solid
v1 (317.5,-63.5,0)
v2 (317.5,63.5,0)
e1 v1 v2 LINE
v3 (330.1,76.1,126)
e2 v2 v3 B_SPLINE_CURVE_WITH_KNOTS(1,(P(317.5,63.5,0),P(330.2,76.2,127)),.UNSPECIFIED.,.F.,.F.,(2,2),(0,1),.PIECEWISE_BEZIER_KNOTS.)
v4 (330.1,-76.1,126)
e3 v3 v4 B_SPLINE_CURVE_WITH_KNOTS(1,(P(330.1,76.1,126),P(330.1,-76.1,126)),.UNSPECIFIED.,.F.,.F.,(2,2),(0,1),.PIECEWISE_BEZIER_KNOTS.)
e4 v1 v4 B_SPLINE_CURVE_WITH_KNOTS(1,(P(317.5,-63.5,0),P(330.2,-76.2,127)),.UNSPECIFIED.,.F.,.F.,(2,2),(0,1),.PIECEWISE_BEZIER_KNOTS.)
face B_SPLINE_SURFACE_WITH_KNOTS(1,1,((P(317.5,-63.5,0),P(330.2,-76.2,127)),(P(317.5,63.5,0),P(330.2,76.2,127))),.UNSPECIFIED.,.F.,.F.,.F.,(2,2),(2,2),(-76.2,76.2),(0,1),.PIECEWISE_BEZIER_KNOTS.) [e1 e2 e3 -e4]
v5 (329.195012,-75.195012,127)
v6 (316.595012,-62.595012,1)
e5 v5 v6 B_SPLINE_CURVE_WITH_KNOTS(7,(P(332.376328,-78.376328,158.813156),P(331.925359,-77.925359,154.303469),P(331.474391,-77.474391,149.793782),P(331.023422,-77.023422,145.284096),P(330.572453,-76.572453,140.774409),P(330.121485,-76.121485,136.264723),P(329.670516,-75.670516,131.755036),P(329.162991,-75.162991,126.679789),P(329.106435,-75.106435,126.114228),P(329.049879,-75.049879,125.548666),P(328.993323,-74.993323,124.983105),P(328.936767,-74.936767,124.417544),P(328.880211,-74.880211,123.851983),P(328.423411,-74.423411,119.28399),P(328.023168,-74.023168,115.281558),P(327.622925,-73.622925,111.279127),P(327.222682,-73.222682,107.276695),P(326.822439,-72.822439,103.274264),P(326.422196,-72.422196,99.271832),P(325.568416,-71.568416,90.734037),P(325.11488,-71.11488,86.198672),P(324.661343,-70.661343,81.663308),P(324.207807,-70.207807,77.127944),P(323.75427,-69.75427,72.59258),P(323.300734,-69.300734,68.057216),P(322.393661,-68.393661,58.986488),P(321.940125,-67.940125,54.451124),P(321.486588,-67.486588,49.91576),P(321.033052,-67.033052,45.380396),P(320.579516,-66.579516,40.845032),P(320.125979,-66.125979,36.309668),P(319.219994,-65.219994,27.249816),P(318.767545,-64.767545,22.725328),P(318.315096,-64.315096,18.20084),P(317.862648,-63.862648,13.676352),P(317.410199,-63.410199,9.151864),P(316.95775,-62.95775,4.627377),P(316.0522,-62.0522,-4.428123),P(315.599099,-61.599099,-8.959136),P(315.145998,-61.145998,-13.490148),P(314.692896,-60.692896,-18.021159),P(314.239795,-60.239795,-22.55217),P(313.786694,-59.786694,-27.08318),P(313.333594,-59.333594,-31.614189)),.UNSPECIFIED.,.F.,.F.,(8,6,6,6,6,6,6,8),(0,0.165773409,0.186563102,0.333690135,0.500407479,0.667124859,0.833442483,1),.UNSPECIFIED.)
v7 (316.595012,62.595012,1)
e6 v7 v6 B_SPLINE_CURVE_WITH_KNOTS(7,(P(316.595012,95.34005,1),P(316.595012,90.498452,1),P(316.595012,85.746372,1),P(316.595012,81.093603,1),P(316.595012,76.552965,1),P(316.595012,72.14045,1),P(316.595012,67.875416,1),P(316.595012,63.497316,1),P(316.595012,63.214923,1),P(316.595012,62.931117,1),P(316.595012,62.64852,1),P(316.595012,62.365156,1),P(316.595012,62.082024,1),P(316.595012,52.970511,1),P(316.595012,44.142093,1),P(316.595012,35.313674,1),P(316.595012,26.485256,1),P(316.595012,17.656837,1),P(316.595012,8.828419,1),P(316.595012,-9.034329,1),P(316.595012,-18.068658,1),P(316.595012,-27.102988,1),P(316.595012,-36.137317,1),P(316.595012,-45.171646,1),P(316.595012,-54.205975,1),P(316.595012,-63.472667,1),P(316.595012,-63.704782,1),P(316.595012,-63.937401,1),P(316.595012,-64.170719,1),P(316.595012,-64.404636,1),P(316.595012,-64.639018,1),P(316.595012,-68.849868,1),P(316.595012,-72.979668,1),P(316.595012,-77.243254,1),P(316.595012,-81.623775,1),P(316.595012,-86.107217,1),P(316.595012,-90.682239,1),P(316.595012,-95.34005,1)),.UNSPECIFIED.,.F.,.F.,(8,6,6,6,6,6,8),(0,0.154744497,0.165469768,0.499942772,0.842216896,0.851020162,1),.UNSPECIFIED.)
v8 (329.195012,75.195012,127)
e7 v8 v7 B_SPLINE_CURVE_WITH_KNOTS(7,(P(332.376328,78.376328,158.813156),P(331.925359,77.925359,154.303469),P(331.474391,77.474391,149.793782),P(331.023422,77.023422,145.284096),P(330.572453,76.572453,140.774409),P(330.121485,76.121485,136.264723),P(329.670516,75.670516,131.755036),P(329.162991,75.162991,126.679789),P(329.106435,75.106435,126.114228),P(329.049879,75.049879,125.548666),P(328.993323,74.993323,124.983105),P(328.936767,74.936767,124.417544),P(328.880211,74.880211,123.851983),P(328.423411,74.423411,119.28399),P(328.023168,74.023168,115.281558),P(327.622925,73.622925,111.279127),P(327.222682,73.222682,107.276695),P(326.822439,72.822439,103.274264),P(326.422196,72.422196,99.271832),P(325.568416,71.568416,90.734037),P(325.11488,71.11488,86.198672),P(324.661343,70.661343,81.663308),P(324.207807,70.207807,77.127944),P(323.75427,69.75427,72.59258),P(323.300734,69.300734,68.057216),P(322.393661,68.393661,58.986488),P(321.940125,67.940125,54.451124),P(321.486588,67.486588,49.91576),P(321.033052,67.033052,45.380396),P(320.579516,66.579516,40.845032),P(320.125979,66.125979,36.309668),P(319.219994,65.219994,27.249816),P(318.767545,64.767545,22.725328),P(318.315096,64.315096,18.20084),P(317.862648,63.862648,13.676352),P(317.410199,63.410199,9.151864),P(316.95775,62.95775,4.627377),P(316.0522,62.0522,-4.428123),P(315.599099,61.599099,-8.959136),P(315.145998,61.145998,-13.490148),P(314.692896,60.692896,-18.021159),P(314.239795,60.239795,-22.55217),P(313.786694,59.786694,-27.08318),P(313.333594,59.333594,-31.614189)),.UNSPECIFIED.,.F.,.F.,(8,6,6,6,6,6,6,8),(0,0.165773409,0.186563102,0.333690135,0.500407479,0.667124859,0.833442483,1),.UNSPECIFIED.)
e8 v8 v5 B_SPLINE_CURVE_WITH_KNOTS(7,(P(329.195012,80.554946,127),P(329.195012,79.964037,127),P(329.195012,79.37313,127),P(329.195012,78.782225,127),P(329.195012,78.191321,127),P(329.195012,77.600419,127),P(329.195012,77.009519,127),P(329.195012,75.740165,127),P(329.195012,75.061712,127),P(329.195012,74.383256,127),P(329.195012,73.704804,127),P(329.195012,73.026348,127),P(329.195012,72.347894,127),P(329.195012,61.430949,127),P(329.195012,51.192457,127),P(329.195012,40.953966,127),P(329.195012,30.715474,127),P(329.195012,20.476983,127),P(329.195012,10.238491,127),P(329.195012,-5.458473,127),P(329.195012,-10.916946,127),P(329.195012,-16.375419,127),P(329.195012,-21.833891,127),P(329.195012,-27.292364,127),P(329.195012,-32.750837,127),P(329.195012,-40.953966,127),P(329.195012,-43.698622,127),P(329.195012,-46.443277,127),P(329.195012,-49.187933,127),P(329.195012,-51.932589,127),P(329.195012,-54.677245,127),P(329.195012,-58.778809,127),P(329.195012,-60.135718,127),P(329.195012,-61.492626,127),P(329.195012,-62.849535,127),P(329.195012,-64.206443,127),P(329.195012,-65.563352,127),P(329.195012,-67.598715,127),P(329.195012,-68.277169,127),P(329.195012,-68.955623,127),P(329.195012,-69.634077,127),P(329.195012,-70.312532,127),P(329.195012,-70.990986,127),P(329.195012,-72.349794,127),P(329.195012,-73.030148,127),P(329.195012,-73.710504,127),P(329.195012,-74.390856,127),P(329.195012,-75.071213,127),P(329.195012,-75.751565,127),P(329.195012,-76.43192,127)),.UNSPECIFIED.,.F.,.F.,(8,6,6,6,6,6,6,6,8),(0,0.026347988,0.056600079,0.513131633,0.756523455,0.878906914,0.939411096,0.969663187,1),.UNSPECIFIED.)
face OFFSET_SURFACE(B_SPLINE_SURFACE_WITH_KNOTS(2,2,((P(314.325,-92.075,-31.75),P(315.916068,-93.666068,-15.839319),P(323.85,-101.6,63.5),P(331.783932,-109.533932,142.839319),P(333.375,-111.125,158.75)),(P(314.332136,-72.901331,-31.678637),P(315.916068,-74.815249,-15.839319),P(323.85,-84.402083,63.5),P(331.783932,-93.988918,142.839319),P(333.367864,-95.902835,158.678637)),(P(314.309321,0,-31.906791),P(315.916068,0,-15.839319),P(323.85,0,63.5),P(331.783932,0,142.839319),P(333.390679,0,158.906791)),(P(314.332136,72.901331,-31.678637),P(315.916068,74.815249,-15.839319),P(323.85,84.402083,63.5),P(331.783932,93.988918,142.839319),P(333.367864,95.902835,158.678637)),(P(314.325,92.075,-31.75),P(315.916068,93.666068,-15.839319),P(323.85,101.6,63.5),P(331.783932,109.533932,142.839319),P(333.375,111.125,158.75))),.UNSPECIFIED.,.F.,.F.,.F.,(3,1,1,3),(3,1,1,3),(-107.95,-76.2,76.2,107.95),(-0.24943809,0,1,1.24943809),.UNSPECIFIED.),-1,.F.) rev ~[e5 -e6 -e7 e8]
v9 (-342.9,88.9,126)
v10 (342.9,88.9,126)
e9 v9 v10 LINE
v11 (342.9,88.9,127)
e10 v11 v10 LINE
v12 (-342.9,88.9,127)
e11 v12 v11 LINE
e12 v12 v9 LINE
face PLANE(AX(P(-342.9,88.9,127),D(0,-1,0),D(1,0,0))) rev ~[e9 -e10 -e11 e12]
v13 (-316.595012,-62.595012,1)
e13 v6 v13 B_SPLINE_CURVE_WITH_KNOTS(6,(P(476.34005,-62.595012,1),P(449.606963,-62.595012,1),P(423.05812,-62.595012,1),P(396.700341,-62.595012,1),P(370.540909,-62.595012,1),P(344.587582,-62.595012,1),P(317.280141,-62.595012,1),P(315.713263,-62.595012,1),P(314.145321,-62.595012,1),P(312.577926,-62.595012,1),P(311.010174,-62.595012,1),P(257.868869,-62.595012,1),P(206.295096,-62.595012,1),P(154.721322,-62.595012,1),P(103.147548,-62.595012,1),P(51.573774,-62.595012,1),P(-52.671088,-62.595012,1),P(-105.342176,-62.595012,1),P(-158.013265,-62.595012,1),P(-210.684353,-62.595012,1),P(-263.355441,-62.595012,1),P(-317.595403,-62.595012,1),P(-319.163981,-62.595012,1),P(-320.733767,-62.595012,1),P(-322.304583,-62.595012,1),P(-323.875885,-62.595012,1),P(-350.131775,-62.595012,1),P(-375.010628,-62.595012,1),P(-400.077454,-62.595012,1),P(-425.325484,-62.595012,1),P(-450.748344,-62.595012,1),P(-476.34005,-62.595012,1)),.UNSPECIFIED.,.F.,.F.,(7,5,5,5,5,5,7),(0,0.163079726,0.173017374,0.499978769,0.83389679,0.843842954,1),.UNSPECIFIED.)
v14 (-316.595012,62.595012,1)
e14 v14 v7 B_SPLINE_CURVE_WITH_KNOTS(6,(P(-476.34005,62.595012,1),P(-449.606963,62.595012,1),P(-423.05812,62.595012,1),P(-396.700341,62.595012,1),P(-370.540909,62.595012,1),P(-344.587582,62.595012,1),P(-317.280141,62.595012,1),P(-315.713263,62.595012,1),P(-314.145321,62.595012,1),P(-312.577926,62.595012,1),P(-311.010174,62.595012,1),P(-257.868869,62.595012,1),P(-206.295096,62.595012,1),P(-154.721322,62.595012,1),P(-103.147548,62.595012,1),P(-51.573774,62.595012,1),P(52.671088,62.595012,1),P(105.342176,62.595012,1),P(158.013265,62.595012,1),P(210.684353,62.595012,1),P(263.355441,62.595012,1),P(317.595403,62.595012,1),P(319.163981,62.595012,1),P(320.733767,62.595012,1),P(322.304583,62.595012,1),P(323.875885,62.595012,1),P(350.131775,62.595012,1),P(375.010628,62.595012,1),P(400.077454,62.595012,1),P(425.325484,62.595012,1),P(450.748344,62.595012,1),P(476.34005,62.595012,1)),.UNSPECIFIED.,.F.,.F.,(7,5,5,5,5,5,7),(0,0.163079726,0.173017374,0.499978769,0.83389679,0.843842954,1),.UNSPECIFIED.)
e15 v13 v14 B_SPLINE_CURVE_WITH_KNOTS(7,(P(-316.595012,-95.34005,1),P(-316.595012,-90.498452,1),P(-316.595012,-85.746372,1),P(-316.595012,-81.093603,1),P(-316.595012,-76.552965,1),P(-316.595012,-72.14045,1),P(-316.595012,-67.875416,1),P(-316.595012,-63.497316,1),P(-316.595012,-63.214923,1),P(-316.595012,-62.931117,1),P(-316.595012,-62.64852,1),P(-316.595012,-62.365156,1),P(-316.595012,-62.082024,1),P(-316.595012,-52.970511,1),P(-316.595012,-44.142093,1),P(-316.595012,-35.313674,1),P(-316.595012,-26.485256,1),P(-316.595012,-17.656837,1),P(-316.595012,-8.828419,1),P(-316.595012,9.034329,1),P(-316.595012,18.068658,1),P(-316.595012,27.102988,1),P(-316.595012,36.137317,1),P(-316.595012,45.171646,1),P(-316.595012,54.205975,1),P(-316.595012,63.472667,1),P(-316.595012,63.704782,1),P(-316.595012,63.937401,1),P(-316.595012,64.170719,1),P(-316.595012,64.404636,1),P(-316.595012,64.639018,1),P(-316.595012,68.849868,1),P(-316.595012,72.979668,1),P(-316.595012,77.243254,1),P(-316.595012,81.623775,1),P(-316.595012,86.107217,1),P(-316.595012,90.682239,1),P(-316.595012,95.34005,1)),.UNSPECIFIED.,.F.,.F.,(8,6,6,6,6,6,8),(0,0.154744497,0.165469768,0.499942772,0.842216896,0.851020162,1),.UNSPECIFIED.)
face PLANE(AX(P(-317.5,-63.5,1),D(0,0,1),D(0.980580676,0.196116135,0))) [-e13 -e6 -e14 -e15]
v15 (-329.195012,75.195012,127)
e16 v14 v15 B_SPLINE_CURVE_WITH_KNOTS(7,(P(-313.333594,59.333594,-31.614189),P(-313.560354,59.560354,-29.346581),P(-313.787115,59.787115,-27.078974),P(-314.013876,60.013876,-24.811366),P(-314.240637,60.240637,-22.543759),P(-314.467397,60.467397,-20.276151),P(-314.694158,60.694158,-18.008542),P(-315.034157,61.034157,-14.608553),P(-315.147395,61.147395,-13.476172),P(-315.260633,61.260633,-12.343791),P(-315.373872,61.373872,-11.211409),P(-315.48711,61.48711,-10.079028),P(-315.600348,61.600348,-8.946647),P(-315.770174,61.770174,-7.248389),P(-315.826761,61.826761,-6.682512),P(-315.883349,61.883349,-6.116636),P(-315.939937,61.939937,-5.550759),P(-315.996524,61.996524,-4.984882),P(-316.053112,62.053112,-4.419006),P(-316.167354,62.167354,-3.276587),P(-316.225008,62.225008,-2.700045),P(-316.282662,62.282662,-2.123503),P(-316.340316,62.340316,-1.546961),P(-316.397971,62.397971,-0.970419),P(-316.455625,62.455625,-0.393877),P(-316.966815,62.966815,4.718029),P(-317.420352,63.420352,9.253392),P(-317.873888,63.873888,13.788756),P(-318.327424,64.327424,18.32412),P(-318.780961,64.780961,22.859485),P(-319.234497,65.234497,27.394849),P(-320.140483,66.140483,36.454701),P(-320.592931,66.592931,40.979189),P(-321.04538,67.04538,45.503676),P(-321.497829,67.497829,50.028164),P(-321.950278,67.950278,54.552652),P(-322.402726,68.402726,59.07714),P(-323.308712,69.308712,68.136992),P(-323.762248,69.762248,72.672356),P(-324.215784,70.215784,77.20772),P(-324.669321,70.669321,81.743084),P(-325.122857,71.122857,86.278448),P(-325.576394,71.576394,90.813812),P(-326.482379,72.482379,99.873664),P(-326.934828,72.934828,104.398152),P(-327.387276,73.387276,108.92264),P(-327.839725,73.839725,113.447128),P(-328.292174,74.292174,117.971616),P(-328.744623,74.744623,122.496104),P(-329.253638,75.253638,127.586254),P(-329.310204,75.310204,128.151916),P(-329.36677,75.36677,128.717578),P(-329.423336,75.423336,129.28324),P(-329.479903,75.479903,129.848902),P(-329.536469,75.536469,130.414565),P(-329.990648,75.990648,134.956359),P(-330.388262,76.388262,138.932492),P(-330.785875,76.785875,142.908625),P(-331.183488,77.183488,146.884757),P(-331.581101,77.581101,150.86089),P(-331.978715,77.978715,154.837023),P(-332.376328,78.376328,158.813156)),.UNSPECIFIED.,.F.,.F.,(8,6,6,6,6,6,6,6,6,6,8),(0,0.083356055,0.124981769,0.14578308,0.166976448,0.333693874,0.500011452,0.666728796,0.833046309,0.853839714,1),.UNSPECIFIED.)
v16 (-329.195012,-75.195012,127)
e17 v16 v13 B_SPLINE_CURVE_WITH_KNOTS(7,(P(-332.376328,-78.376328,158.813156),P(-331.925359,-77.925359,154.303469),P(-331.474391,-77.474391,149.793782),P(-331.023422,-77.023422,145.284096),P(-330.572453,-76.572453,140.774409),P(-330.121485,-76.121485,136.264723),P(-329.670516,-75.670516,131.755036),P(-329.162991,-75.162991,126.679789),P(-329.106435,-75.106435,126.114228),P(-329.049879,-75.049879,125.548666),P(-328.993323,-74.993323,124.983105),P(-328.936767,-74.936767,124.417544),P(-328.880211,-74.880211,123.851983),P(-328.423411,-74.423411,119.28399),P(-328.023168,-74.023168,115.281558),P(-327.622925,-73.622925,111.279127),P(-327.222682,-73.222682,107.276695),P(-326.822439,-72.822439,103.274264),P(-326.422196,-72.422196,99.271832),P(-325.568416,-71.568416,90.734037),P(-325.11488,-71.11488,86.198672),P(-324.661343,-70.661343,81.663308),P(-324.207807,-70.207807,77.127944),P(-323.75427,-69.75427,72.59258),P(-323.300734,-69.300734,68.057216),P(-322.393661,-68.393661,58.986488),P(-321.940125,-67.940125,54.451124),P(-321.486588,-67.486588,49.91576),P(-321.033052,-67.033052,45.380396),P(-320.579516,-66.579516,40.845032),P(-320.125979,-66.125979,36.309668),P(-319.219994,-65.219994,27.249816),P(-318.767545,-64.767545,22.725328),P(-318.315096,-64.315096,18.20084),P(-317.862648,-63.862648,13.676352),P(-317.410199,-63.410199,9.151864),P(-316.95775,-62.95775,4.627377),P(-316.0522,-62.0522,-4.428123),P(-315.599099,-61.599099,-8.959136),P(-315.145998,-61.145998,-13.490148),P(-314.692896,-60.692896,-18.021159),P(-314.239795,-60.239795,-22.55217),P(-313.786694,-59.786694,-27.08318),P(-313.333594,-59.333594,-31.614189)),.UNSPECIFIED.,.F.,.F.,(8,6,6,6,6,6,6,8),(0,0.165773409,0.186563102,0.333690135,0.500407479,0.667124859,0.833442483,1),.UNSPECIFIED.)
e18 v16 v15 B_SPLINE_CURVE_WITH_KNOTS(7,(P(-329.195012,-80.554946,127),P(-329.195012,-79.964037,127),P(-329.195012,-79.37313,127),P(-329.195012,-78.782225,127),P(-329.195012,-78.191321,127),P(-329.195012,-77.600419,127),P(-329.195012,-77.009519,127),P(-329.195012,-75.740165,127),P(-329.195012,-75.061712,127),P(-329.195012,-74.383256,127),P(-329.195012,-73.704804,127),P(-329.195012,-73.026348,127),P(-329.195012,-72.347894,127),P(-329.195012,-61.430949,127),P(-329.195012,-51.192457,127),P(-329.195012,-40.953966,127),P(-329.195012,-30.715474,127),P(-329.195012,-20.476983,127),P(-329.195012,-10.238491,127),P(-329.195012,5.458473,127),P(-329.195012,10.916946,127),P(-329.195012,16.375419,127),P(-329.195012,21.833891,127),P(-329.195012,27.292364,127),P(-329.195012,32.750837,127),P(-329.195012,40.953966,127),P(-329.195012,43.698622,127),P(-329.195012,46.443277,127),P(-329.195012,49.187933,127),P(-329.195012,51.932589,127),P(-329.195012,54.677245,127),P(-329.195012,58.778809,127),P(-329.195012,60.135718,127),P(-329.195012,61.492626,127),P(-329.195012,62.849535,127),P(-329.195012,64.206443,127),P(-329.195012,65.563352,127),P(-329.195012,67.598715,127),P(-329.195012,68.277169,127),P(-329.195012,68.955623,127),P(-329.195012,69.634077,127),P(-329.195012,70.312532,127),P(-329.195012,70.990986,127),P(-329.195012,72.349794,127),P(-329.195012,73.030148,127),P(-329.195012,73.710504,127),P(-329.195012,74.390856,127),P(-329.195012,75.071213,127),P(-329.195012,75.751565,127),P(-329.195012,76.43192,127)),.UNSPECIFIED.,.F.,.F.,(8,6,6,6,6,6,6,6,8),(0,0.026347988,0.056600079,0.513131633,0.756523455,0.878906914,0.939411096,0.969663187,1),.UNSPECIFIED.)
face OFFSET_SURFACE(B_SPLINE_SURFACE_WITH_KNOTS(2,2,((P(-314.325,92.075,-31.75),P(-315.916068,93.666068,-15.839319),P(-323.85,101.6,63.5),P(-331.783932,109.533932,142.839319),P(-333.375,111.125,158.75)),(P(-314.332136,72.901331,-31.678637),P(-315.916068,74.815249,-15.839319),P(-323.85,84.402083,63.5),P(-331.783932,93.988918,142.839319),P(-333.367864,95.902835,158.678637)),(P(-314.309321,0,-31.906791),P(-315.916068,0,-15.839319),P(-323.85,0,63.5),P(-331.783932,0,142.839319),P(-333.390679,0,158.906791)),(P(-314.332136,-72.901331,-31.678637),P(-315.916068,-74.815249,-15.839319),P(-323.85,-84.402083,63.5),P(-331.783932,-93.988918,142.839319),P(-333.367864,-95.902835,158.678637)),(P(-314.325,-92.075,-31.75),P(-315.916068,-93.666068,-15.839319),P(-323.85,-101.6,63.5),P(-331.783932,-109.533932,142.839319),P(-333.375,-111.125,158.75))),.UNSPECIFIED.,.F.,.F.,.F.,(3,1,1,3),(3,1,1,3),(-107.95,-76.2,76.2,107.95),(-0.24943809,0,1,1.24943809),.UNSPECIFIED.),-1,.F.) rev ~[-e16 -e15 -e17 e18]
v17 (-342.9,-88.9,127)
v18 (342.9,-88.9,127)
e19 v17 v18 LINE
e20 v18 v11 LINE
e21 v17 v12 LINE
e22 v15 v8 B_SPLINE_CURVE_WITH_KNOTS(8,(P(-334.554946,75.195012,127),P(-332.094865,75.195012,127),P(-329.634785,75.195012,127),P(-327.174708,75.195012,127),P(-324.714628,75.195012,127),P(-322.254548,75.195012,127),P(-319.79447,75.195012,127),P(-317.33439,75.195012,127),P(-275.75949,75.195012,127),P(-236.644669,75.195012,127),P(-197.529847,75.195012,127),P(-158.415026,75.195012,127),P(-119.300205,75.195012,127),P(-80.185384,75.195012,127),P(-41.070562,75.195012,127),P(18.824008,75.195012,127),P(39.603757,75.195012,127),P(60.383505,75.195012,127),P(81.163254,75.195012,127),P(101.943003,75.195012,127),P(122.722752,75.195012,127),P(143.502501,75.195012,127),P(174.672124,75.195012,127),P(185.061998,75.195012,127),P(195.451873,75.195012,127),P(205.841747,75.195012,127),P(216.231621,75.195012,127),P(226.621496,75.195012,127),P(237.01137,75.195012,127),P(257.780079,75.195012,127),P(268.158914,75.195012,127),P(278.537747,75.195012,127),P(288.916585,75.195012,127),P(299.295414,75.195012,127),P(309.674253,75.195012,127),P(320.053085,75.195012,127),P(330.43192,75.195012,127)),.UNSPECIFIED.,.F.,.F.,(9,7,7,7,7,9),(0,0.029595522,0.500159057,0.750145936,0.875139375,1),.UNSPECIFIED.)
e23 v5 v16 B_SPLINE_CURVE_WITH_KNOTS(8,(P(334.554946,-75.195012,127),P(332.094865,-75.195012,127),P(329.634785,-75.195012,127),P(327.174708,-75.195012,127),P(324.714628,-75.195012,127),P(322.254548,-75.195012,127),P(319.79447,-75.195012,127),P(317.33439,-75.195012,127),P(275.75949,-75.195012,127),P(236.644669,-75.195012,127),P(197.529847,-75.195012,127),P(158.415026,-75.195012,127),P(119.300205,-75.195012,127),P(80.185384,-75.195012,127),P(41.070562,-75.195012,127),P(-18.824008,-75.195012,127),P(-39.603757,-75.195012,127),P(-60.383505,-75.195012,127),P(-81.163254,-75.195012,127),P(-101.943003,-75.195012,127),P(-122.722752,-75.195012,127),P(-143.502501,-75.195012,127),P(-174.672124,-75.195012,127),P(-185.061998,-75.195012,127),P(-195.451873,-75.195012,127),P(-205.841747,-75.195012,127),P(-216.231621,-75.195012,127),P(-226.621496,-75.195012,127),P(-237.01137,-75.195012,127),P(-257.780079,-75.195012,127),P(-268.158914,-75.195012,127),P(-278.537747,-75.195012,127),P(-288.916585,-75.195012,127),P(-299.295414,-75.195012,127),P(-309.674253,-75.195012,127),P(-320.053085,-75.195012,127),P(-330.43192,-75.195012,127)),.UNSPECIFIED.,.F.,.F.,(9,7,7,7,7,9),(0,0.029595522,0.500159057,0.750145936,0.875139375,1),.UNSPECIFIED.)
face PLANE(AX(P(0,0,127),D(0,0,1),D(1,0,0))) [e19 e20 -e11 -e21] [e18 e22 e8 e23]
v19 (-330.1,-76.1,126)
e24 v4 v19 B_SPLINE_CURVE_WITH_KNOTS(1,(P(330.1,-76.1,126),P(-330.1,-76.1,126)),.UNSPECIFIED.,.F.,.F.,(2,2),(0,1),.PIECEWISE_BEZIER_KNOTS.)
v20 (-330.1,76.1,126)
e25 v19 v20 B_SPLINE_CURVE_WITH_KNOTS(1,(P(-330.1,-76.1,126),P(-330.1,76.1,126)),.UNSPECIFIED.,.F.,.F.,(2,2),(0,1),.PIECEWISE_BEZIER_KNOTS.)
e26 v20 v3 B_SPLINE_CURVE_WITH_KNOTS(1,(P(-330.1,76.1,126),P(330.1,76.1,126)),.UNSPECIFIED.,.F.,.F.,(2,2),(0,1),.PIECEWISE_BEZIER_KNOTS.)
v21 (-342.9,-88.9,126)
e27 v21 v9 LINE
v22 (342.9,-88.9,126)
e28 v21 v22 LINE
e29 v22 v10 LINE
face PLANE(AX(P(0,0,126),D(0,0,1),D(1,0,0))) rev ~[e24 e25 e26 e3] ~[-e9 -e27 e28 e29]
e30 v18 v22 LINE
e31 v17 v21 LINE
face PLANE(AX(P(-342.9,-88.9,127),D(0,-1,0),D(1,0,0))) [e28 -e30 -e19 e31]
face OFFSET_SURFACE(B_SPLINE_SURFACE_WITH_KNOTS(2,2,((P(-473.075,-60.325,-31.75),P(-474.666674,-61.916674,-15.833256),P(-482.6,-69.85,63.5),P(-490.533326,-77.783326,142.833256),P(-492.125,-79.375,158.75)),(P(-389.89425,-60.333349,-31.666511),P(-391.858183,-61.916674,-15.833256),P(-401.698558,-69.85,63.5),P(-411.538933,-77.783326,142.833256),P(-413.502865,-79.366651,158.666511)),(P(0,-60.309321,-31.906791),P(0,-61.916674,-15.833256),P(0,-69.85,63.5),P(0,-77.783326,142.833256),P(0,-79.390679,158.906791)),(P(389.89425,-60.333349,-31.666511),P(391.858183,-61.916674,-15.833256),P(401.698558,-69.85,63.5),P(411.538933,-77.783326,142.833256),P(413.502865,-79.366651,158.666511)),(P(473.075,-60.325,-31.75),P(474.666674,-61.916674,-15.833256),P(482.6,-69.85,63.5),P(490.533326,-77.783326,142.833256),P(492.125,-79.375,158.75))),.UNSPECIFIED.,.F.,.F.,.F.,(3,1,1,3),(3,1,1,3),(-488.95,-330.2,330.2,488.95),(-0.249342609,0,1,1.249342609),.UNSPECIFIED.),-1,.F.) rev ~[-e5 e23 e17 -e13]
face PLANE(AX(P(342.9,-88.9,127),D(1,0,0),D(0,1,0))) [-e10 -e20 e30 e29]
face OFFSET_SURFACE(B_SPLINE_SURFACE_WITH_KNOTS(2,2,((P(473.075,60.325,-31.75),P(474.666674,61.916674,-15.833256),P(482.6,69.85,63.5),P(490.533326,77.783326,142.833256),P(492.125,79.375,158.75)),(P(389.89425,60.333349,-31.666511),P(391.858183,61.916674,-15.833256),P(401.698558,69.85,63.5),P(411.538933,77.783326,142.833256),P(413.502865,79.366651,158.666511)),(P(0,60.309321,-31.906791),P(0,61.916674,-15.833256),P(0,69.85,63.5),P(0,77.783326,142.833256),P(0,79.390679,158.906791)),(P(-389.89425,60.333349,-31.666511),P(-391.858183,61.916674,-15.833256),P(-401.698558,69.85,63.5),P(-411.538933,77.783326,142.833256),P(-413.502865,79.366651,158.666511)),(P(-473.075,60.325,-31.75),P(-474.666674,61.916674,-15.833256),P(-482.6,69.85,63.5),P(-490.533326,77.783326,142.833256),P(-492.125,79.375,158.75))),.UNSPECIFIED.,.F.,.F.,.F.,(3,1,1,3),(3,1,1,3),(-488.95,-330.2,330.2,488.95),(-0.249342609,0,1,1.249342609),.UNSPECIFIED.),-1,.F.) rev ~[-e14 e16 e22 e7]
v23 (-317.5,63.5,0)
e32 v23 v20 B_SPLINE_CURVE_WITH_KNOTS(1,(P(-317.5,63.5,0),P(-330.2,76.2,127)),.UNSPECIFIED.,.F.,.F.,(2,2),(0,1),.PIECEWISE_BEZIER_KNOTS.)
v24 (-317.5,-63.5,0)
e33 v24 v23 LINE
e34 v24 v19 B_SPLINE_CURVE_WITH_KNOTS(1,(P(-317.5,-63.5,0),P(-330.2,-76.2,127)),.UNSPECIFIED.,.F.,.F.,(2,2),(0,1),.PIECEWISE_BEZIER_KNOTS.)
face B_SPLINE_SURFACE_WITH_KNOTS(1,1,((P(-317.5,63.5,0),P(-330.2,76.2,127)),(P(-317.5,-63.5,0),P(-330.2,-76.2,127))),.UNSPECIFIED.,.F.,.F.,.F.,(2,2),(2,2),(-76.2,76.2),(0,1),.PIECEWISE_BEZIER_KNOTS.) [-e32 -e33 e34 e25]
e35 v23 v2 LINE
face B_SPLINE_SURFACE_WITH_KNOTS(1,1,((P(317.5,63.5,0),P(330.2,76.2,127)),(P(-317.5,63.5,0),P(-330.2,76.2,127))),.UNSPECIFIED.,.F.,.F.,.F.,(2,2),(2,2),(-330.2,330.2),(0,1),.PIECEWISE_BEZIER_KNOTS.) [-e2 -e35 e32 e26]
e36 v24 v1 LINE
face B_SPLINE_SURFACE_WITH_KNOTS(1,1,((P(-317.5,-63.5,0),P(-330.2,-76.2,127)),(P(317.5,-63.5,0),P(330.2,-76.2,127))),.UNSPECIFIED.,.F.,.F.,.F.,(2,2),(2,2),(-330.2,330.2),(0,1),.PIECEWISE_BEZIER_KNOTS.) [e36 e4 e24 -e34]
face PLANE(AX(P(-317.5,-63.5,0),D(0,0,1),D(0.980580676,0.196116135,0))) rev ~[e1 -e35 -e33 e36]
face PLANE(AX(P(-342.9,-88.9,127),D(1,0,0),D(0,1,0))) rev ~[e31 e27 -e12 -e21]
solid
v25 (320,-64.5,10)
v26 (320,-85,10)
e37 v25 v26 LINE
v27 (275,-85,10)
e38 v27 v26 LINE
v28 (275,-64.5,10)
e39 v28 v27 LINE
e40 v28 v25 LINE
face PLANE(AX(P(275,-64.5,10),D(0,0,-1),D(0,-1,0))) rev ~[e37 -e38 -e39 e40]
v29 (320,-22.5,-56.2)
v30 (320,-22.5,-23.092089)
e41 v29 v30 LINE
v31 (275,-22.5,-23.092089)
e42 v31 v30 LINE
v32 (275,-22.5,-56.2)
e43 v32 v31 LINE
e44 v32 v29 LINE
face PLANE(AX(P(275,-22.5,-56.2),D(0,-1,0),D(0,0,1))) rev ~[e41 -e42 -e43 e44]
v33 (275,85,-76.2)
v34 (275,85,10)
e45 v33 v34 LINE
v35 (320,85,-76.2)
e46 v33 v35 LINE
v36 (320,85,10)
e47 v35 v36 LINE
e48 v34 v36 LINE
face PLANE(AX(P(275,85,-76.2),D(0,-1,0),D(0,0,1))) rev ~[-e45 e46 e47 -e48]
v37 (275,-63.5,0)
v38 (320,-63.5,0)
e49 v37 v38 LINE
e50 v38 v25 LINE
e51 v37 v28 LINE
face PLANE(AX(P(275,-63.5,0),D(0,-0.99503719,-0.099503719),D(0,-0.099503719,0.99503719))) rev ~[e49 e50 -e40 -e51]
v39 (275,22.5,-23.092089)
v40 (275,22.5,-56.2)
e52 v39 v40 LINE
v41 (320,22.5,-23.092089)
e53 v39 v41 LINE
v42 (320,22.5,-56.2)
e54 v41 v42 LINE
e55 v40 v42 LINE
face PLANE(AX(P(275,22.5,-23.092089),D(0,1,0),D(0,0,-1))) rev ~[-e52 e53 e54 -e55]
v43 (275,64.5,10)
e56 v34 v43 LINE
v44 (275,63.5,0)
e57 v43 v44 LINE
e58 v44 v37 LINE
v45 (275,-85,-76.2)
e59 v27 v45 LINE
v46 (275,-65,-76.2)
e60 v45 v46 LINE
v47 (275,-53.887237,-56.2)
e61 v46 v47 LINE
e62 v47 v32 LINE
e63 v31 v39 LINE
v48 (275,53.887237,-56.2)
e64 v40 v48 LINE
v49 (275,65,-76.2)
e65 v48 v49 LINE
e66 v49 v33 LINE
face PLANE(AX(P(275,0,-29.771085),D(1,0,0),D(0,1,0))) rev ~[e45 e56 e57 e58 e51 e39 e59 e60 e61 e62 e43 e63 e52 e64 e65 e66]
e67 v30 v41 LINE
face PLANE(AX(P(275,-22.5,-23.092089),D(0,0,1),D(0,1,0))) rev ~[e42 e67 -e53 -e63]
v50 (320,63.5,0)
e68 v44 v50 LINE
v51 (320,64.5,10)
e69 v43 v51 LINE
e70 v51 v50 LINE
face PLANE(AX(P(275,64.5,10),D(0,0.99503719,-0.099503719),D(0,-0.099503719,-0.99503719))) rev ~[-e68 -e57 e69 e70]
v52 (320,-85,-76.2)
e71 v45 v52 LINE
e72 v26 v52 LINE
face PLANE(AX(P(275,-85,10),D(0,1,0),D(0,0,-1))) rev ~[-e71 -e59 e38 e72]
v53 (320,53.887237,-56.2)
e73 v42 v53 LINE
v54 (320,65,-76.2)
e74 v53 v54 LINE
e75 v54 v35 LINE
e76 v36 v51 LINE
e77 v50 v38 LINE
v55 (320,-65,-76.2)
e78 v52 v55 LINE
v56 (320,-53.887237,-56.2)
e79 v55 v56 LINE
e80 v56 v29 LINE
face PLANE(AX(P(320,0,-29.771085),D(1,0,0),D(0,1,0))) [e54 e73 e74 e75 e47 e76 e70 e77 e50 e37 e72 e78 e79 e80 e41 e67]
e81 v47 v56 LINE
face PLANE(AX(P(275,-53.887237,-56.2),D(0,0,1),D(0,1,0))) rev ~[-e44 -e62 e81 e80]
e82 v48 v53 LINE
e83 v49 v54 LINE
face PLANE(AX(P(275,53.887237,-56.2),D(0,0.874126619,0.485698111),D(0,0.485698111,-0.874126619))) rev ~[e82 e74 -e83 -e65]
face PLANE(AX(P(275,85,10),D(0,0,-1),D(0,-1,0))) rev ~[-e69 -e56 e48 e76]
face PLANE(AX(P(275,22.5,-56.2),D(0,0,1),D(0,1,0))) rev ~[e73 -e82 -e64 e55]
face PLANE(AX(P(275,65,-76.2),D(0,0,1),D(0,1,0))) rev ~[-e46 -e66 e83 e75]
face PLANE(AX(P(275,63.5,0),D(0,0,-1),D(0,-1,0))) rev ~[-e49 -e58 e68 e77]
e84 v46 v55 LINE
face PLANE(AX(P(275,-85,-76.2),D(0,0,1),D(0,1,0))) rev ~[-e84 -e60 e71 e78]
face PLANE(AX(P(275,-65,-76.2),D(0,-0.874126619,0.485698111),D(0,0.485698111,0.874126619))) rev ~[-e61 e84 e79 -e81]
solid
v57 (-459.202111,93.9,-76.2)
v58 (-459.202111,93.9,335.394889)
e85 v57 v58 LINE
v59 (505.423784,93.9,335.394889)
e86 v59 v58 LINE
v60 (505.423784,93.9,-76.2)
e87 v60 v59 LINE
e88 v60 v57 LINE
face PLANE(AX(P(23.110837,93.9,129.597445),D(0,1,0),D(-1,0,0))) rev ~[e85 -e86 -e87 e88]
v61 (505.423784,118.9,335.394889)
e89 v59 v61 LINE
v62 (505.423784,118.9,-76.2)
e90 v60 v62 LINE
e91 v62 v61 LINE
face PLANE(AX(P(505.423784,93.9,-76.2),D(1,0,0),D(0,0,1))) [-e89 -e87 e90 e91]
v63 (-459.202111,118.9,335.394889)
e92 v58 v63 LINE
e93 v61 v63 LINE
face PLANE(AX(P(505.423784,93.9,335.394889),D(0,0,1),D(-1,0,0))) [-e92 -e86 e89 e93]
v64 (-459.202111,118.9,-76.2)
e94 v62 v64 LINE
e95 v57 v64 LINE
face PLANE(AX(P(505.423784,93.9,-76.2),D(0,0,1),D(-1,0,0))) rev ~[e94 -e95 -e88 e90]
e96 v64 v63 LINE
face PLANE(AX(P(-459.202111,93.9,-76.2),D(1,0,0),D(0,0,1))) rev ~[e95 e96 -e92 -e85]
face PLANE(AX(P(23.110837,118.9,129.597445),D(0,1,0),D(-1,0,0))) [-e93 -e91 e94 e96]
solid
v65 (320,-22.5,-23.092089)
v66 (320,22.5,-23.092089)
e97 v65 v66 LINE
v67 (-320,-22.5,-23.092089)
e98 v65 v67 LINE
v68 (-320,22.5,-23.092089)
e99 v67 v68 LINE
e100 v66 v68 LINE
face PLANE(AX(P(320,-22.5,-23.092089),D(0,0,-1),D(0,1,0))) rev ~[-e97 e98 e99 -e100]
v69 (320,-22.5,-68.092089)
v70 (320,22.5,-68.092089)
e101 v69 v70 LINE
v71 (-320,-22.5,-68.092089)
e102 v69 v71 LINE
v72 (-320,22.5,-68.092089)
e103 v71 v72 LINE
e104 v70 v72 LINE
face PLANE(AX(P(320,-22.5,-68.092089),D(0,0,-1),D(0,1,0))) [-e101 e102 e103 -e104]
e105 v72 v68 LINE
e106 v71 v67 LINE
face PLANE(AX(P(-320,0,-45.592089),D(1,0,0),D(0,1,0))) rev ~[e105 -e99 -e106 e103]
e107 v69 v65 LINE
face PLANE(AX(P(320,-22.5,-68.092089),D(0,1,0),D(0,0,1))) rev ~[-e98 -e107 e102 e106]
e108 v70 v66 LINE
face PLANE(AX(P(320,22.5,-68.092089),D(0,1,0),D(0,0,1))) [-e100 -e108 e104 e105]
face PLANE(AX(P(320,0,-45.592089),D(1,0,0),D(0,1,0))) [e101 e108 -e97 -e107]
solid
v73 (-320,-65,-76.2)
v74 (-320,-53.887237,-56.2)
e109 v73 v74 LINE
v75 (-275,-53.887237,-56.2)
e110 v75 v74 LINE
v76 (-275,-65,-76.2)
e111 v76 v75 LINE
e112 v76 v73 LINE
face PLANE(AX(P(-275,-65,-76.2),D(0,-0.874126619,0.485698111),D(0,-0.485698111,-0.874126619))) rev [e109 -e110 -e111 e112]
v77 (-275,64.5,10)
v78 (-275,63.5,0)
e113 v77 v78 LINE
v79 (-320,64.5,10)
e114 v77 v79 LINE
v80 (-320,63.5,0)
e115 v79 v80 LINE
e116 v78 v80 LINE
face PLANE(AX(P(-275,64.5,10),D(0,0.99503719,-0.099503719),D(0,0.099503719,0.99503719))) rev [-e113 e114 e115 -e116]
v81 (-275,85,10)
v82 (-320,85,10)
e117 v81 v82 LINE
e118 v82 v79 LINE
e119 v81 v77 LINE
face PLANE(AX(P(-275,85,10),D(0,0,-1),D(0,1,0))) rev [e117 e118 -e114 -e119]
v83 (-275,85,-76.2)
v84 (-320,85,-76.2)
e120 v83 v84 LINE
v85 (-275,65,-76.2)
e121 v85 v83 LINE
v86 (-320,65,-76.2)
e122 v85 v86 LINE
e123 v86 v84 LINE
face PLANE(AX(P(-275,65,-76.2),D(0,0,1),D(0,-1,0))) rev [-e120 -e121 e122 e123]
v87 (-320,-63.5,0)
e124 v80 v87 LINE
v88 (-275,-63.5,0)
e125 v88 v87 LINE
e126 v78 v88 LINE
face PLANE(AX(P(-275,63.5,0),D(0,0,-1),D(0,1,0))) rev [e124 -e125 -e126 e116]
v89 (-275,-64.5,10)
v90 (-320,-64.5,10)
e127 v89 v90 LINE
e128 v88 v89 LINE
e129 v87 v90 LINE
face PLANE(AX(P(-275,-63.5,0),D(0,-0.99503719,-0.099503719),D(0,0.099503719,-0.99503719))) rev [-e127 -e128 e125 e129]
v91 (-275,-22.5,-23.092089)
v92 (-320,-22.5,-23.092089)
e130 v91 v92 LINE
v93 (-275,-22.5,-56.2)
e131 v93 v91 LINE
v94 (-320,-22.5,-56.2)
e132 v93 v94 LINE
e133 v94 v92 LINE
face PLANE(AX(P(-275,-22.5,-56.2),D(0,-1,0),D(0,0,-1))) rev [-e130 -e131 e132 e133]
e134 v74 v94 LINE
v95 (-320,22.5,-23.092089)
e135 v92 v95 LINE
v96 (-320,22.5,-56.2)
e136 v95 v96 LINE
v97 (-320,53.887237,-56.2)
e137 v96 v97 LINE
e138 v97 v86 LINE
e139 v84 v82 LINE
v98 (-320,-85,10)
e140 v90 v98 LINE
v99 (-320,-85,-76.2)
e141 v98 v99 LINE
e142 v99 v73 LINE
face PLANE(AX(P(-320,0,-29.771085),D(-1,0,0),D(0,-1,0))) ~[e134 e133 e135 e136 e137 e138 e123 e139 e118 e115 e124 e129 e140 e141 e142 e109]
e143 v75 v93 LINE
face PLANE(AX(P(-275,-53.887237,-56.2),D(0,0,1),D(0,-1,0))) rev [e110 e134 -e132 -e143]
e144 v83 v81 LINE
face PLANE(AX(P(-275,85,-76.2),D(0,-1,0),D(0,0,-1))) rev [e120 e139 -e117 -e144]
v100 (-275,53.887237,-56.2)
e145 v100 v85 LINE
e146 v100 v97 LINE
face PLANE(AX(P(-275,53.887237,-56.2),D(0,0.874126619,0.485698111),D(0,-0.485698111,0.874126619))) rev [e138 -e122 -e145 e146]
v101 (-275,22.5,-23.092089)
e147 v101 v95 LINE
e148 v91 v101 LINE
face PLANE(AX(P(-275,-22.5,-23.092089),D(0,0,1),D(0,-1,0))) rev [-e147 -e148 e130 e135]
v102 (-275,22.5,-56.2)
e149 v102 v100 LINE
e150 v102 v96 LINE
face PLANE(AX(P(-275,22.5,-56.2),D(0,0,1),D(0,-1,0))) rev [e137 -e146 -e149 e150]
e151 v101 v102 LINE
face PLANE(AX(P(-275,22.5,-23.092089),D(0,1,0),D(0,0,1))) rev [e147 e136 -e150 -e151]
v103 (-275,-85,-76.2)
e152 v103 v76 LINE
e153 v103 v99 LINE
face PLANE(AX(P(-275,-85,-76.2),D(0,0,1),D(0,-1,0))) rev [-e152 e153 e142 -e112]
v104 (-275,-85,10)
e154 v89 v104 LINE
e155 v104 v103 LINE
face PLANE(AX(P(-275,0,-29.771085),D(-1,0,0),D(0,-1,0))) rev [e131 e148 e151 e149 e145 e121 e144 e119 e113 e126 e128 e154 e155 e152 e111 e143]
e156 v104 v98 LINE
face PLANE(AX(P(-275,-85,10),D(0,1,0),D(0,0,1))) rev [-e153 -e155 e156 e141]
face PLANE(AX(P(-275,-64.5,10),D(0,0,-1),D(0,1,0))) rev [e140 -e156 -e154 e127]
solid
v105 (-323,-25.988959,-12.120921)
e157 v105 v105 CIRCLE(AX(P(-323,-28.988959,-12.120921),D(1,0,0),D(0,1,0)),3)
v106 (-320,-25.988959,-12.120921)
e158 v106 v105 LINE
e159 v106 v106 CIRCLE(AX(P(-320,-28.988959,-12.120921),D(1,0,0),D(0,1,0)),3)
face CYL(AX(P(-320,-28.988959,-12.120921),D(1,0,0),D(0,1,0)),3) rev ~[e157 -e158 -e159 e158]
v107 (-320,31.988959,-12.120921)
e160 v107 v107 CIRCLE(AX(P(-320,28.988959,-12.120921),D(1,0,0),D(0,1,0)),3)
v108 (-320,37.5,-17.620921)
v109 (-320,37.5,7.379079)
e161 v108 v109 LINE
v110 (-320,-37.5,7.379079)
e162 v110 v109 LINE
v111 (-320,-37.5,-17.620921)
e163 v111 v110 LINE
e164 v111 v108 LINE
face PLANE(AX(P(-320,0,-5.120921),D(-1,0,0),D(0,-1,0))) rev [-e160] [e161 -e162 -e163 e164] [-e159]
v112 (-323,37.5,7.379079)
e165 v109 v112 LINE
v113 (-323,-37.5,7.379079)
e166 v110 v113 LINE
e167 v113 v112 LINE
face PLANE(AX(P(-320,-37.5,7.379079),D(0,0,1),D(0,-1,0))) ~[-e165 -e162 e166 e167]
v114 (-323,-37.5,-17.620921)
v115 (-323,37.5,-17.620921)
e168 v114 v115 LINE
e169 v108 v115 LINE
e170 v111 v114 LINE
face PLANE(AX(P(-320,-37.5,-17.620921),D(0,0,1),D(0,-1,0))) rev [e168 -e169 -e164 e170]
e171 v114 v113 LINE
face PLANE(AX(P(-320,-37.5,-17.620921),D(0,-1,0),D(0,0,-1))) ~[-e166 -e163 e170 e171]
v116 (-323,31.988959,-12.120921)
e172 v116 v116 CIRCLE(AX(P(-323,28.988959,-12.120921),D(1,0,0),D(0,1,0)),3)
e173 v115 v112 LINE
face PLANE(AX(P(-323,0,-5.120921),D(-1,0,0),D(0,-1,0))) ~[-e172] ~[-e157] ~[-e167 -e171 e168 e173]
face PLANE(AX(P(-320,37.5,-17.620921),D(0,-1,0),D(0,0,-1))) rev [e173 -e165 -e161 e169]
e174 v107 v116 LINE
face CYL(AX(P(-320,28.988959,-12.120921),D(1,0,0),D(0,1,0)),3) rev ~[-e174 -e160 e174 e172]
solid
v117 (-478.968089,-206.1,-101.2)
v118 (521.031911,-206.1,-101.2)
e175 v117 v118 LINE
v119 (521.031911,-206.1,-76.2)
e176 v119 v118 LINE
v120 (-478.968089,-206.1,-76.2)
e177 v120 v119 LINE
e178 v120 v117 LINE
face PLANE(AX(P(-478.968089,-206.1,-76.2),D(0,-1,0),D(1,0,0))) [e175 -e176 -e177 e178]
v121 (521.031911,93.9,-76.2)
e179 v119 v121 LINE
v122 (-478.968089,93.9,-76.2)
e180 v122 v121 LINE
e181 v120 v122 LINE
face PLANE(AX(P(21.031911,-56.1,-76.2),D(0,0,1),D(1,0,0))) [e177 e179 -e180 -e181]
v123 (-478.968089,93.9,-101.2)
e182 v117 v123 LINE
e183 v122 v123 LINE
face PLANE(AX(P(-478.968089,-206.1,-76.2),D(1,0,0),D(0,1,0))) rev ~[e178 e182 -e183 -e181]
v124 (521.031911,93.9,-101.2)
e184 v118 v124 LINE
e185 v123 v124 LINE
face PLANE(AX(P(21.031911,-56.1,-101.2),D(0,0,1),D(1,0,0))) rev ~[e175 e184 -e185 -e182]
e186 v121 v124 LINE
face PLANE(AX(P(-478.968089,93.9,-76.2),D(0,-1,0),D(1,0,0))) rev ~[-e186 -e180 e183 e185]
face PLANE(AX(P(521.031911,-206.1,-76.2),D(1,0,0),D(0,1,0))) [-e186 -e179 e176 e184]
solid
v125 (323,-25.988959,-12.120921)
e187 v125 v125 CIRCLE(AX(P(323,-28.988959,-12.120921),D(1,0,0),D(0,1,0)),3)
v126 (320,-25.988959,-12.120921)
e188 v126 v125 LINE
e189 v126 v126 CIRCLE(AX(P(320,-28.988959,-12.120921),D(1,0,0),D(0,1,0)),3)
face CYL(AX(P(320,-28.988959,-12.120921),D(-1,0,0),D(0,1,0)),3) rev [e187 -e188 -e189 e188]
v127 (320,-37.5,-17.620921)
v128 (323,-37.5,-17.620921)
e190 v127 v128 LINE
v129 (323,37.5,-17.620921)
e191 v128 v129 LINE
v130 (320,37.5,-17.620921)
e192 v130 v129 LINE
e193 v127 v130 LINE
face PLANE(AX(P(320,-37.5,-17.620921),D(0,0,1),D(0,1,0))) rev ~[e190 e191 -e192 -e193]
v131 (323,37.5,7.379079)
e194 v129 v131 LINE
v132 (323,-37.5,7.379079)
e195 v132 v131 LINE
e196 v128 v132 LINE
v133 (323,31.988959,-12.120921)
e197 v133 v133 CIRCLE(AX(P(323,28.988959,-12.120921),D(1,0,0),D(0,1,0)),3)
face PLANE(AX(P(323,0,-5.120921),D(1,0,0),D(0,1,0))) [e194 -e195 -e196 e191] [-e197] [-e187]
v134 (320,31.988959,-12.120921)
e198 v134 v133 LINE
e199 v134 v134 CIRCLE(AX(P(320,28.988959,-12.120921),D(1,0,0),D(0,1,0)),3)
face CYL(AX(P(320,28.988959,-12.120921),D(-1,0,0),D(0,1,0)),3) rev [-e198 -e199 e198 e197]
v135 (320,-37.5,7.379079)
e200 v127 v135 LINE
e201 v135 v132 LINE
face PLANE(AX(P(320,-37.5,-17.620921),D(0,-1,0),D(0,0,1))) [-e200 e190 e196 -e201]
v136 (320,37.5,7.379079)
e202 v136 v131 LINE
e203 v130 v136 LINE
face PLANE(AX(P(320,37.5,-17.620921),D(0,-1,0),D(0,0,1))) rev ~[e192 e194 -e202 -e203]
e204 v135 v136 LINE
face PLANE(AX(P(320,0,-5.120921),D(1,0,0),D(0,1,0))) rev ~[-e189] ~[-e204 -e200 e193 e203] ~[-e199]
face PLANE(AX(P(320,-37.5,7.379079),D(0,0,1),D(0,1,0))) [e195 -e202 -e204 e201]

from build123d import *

# Parameters (mm, degrees)
F0_W      = 635
F0_H      = 127
F2_W      = 660.4
F2_H      = 152.4
F4_T      = -1
F5_W      = 685.8
F5_H      = 177.8
F5_W_2    = 658.3900248758
F5_H_2    = 150.3900248758
F6_DEPTH  = 1
F8_W      = 1000
F8_H      = 300
F9_DEPTH  = 25
F10_W     = 964.6258950233
F10_H     = 411.5948891163
F11_DEPTH = 25
F14_DEPTH = 45
F15_W     = 75
F15_H     = 25
F15_R     = 3
F16_DEPTH = 3
F18_W     = 45
F18_H     = 45
F19_DEPTH = 640


with BuildPart() as f3:
    # F0 (on Top) → F3 section 0
    with BuildSketch(Plane.XY):
        Rectangle(F0_W, F0_H)
    # F2 (on offset) → F3 section 1
    with BuildSketch(Plane.XY.offset(127)):
        Rectangle(F2_W, F2_H)
    loft()

    # F4
    f4_openings = [f3.faces().sort_by_distance(p)[0] for p in [
        (0, 0, 127),
    ]]
    offset(amount=F4_T, openings=f4_openings, kind=Kind.INTERSECTION)

    # F5 (on offset) → F6 (join)
    with BuildSketch(Plane.XY.offset(127)):
        Rectangle(F5_W, F5_H)
        Rectangle(F5_W_2, F5_H_2, mode=Mode.SUBTRACT)
    extrude(amount=-F6_DEPTH)


with BuildPart() as f9:
    # F8 (on offset) → F9 (new body)
    with BuildSketch(Plane.XY.offset(-76.2)):
        with Locations((21.0319106322, -56.1)):
            Rectangle(F8_W, F8_H)
    extrude(amount=-F9_DEPTH)


with BuildPart() as f11:
    # F10 (on face) → F11 (new body)
    with BuildSketch(Plane(origin=(0, 93.9, 0), x_dir=(-1, 0, 0), z_dir=(0, 1, 0))):
        with Locations((-23.1108367443, 129.5974445581)):
            Rectangle(F10_W, F10_H)
    extrude(amount=F11_DEPTH)


with BuildPart() as f14:
    # F13 (on offset) → F14 (new body)
    with BuildSketch(Plane.YZ.offset(275)):
        Polygon((-64.5, 10), (-85, 10), (-85, -76.2), (-65, -76.2), (-53.887236689, -56.2), (-22.5, -56.2), (-22.5, -23.0920892209), (22.5, -23.0920892209), (22.5, -56.2), (53.887236689, -56.2), (65, -76.2), (85, -76.2), (85, 10), (64.5, 10), (63.5, 0), (-63.5, 0), align=None)
    extrude(amount=F14_DEPTH)


with BuildPart() as f16:
    # F15 (on face) → F16 (new body)
    with BuildSketch(Plane.YZ.offset(320)):
        with Locations((0, -5.1209209487)):
            Rectangle(F15_W, F15_H)
        with Locations((-28.9889592677, -12.1209209487)):
            Circle(F15_R, mode=Mode.SUBTRACT)
        with Locations((28.9889592677, -12.1209209487)):
            Circle(F15_R, mode=Mode.SUBTRACT)
    extrude(amount=F16_DEPTH)


with BuildPart() as f17_1:
    # F17: instance of F14
    add(f14.part.mirror(Plane.YZ))


with BuildPart() as f17_2:
    # F17: instance of F16
    add(f16.part.mirror(Plane.YZ))


with BuildPart() as f19:
    # F18 (on face) → F19 (new body, through all)
    with BuildSketch(Plane.YZ.offset(320)):
        with Locations((0, -45.5920892209)):
            Rectangle(F18_W, F18_H)
    extrude(amount=-F19_DEPTH)


solid = Compound([f3.part, f9.part, f11.part, f14.part, f16.part, f17_1.part, f17_2.part, f19.part])
